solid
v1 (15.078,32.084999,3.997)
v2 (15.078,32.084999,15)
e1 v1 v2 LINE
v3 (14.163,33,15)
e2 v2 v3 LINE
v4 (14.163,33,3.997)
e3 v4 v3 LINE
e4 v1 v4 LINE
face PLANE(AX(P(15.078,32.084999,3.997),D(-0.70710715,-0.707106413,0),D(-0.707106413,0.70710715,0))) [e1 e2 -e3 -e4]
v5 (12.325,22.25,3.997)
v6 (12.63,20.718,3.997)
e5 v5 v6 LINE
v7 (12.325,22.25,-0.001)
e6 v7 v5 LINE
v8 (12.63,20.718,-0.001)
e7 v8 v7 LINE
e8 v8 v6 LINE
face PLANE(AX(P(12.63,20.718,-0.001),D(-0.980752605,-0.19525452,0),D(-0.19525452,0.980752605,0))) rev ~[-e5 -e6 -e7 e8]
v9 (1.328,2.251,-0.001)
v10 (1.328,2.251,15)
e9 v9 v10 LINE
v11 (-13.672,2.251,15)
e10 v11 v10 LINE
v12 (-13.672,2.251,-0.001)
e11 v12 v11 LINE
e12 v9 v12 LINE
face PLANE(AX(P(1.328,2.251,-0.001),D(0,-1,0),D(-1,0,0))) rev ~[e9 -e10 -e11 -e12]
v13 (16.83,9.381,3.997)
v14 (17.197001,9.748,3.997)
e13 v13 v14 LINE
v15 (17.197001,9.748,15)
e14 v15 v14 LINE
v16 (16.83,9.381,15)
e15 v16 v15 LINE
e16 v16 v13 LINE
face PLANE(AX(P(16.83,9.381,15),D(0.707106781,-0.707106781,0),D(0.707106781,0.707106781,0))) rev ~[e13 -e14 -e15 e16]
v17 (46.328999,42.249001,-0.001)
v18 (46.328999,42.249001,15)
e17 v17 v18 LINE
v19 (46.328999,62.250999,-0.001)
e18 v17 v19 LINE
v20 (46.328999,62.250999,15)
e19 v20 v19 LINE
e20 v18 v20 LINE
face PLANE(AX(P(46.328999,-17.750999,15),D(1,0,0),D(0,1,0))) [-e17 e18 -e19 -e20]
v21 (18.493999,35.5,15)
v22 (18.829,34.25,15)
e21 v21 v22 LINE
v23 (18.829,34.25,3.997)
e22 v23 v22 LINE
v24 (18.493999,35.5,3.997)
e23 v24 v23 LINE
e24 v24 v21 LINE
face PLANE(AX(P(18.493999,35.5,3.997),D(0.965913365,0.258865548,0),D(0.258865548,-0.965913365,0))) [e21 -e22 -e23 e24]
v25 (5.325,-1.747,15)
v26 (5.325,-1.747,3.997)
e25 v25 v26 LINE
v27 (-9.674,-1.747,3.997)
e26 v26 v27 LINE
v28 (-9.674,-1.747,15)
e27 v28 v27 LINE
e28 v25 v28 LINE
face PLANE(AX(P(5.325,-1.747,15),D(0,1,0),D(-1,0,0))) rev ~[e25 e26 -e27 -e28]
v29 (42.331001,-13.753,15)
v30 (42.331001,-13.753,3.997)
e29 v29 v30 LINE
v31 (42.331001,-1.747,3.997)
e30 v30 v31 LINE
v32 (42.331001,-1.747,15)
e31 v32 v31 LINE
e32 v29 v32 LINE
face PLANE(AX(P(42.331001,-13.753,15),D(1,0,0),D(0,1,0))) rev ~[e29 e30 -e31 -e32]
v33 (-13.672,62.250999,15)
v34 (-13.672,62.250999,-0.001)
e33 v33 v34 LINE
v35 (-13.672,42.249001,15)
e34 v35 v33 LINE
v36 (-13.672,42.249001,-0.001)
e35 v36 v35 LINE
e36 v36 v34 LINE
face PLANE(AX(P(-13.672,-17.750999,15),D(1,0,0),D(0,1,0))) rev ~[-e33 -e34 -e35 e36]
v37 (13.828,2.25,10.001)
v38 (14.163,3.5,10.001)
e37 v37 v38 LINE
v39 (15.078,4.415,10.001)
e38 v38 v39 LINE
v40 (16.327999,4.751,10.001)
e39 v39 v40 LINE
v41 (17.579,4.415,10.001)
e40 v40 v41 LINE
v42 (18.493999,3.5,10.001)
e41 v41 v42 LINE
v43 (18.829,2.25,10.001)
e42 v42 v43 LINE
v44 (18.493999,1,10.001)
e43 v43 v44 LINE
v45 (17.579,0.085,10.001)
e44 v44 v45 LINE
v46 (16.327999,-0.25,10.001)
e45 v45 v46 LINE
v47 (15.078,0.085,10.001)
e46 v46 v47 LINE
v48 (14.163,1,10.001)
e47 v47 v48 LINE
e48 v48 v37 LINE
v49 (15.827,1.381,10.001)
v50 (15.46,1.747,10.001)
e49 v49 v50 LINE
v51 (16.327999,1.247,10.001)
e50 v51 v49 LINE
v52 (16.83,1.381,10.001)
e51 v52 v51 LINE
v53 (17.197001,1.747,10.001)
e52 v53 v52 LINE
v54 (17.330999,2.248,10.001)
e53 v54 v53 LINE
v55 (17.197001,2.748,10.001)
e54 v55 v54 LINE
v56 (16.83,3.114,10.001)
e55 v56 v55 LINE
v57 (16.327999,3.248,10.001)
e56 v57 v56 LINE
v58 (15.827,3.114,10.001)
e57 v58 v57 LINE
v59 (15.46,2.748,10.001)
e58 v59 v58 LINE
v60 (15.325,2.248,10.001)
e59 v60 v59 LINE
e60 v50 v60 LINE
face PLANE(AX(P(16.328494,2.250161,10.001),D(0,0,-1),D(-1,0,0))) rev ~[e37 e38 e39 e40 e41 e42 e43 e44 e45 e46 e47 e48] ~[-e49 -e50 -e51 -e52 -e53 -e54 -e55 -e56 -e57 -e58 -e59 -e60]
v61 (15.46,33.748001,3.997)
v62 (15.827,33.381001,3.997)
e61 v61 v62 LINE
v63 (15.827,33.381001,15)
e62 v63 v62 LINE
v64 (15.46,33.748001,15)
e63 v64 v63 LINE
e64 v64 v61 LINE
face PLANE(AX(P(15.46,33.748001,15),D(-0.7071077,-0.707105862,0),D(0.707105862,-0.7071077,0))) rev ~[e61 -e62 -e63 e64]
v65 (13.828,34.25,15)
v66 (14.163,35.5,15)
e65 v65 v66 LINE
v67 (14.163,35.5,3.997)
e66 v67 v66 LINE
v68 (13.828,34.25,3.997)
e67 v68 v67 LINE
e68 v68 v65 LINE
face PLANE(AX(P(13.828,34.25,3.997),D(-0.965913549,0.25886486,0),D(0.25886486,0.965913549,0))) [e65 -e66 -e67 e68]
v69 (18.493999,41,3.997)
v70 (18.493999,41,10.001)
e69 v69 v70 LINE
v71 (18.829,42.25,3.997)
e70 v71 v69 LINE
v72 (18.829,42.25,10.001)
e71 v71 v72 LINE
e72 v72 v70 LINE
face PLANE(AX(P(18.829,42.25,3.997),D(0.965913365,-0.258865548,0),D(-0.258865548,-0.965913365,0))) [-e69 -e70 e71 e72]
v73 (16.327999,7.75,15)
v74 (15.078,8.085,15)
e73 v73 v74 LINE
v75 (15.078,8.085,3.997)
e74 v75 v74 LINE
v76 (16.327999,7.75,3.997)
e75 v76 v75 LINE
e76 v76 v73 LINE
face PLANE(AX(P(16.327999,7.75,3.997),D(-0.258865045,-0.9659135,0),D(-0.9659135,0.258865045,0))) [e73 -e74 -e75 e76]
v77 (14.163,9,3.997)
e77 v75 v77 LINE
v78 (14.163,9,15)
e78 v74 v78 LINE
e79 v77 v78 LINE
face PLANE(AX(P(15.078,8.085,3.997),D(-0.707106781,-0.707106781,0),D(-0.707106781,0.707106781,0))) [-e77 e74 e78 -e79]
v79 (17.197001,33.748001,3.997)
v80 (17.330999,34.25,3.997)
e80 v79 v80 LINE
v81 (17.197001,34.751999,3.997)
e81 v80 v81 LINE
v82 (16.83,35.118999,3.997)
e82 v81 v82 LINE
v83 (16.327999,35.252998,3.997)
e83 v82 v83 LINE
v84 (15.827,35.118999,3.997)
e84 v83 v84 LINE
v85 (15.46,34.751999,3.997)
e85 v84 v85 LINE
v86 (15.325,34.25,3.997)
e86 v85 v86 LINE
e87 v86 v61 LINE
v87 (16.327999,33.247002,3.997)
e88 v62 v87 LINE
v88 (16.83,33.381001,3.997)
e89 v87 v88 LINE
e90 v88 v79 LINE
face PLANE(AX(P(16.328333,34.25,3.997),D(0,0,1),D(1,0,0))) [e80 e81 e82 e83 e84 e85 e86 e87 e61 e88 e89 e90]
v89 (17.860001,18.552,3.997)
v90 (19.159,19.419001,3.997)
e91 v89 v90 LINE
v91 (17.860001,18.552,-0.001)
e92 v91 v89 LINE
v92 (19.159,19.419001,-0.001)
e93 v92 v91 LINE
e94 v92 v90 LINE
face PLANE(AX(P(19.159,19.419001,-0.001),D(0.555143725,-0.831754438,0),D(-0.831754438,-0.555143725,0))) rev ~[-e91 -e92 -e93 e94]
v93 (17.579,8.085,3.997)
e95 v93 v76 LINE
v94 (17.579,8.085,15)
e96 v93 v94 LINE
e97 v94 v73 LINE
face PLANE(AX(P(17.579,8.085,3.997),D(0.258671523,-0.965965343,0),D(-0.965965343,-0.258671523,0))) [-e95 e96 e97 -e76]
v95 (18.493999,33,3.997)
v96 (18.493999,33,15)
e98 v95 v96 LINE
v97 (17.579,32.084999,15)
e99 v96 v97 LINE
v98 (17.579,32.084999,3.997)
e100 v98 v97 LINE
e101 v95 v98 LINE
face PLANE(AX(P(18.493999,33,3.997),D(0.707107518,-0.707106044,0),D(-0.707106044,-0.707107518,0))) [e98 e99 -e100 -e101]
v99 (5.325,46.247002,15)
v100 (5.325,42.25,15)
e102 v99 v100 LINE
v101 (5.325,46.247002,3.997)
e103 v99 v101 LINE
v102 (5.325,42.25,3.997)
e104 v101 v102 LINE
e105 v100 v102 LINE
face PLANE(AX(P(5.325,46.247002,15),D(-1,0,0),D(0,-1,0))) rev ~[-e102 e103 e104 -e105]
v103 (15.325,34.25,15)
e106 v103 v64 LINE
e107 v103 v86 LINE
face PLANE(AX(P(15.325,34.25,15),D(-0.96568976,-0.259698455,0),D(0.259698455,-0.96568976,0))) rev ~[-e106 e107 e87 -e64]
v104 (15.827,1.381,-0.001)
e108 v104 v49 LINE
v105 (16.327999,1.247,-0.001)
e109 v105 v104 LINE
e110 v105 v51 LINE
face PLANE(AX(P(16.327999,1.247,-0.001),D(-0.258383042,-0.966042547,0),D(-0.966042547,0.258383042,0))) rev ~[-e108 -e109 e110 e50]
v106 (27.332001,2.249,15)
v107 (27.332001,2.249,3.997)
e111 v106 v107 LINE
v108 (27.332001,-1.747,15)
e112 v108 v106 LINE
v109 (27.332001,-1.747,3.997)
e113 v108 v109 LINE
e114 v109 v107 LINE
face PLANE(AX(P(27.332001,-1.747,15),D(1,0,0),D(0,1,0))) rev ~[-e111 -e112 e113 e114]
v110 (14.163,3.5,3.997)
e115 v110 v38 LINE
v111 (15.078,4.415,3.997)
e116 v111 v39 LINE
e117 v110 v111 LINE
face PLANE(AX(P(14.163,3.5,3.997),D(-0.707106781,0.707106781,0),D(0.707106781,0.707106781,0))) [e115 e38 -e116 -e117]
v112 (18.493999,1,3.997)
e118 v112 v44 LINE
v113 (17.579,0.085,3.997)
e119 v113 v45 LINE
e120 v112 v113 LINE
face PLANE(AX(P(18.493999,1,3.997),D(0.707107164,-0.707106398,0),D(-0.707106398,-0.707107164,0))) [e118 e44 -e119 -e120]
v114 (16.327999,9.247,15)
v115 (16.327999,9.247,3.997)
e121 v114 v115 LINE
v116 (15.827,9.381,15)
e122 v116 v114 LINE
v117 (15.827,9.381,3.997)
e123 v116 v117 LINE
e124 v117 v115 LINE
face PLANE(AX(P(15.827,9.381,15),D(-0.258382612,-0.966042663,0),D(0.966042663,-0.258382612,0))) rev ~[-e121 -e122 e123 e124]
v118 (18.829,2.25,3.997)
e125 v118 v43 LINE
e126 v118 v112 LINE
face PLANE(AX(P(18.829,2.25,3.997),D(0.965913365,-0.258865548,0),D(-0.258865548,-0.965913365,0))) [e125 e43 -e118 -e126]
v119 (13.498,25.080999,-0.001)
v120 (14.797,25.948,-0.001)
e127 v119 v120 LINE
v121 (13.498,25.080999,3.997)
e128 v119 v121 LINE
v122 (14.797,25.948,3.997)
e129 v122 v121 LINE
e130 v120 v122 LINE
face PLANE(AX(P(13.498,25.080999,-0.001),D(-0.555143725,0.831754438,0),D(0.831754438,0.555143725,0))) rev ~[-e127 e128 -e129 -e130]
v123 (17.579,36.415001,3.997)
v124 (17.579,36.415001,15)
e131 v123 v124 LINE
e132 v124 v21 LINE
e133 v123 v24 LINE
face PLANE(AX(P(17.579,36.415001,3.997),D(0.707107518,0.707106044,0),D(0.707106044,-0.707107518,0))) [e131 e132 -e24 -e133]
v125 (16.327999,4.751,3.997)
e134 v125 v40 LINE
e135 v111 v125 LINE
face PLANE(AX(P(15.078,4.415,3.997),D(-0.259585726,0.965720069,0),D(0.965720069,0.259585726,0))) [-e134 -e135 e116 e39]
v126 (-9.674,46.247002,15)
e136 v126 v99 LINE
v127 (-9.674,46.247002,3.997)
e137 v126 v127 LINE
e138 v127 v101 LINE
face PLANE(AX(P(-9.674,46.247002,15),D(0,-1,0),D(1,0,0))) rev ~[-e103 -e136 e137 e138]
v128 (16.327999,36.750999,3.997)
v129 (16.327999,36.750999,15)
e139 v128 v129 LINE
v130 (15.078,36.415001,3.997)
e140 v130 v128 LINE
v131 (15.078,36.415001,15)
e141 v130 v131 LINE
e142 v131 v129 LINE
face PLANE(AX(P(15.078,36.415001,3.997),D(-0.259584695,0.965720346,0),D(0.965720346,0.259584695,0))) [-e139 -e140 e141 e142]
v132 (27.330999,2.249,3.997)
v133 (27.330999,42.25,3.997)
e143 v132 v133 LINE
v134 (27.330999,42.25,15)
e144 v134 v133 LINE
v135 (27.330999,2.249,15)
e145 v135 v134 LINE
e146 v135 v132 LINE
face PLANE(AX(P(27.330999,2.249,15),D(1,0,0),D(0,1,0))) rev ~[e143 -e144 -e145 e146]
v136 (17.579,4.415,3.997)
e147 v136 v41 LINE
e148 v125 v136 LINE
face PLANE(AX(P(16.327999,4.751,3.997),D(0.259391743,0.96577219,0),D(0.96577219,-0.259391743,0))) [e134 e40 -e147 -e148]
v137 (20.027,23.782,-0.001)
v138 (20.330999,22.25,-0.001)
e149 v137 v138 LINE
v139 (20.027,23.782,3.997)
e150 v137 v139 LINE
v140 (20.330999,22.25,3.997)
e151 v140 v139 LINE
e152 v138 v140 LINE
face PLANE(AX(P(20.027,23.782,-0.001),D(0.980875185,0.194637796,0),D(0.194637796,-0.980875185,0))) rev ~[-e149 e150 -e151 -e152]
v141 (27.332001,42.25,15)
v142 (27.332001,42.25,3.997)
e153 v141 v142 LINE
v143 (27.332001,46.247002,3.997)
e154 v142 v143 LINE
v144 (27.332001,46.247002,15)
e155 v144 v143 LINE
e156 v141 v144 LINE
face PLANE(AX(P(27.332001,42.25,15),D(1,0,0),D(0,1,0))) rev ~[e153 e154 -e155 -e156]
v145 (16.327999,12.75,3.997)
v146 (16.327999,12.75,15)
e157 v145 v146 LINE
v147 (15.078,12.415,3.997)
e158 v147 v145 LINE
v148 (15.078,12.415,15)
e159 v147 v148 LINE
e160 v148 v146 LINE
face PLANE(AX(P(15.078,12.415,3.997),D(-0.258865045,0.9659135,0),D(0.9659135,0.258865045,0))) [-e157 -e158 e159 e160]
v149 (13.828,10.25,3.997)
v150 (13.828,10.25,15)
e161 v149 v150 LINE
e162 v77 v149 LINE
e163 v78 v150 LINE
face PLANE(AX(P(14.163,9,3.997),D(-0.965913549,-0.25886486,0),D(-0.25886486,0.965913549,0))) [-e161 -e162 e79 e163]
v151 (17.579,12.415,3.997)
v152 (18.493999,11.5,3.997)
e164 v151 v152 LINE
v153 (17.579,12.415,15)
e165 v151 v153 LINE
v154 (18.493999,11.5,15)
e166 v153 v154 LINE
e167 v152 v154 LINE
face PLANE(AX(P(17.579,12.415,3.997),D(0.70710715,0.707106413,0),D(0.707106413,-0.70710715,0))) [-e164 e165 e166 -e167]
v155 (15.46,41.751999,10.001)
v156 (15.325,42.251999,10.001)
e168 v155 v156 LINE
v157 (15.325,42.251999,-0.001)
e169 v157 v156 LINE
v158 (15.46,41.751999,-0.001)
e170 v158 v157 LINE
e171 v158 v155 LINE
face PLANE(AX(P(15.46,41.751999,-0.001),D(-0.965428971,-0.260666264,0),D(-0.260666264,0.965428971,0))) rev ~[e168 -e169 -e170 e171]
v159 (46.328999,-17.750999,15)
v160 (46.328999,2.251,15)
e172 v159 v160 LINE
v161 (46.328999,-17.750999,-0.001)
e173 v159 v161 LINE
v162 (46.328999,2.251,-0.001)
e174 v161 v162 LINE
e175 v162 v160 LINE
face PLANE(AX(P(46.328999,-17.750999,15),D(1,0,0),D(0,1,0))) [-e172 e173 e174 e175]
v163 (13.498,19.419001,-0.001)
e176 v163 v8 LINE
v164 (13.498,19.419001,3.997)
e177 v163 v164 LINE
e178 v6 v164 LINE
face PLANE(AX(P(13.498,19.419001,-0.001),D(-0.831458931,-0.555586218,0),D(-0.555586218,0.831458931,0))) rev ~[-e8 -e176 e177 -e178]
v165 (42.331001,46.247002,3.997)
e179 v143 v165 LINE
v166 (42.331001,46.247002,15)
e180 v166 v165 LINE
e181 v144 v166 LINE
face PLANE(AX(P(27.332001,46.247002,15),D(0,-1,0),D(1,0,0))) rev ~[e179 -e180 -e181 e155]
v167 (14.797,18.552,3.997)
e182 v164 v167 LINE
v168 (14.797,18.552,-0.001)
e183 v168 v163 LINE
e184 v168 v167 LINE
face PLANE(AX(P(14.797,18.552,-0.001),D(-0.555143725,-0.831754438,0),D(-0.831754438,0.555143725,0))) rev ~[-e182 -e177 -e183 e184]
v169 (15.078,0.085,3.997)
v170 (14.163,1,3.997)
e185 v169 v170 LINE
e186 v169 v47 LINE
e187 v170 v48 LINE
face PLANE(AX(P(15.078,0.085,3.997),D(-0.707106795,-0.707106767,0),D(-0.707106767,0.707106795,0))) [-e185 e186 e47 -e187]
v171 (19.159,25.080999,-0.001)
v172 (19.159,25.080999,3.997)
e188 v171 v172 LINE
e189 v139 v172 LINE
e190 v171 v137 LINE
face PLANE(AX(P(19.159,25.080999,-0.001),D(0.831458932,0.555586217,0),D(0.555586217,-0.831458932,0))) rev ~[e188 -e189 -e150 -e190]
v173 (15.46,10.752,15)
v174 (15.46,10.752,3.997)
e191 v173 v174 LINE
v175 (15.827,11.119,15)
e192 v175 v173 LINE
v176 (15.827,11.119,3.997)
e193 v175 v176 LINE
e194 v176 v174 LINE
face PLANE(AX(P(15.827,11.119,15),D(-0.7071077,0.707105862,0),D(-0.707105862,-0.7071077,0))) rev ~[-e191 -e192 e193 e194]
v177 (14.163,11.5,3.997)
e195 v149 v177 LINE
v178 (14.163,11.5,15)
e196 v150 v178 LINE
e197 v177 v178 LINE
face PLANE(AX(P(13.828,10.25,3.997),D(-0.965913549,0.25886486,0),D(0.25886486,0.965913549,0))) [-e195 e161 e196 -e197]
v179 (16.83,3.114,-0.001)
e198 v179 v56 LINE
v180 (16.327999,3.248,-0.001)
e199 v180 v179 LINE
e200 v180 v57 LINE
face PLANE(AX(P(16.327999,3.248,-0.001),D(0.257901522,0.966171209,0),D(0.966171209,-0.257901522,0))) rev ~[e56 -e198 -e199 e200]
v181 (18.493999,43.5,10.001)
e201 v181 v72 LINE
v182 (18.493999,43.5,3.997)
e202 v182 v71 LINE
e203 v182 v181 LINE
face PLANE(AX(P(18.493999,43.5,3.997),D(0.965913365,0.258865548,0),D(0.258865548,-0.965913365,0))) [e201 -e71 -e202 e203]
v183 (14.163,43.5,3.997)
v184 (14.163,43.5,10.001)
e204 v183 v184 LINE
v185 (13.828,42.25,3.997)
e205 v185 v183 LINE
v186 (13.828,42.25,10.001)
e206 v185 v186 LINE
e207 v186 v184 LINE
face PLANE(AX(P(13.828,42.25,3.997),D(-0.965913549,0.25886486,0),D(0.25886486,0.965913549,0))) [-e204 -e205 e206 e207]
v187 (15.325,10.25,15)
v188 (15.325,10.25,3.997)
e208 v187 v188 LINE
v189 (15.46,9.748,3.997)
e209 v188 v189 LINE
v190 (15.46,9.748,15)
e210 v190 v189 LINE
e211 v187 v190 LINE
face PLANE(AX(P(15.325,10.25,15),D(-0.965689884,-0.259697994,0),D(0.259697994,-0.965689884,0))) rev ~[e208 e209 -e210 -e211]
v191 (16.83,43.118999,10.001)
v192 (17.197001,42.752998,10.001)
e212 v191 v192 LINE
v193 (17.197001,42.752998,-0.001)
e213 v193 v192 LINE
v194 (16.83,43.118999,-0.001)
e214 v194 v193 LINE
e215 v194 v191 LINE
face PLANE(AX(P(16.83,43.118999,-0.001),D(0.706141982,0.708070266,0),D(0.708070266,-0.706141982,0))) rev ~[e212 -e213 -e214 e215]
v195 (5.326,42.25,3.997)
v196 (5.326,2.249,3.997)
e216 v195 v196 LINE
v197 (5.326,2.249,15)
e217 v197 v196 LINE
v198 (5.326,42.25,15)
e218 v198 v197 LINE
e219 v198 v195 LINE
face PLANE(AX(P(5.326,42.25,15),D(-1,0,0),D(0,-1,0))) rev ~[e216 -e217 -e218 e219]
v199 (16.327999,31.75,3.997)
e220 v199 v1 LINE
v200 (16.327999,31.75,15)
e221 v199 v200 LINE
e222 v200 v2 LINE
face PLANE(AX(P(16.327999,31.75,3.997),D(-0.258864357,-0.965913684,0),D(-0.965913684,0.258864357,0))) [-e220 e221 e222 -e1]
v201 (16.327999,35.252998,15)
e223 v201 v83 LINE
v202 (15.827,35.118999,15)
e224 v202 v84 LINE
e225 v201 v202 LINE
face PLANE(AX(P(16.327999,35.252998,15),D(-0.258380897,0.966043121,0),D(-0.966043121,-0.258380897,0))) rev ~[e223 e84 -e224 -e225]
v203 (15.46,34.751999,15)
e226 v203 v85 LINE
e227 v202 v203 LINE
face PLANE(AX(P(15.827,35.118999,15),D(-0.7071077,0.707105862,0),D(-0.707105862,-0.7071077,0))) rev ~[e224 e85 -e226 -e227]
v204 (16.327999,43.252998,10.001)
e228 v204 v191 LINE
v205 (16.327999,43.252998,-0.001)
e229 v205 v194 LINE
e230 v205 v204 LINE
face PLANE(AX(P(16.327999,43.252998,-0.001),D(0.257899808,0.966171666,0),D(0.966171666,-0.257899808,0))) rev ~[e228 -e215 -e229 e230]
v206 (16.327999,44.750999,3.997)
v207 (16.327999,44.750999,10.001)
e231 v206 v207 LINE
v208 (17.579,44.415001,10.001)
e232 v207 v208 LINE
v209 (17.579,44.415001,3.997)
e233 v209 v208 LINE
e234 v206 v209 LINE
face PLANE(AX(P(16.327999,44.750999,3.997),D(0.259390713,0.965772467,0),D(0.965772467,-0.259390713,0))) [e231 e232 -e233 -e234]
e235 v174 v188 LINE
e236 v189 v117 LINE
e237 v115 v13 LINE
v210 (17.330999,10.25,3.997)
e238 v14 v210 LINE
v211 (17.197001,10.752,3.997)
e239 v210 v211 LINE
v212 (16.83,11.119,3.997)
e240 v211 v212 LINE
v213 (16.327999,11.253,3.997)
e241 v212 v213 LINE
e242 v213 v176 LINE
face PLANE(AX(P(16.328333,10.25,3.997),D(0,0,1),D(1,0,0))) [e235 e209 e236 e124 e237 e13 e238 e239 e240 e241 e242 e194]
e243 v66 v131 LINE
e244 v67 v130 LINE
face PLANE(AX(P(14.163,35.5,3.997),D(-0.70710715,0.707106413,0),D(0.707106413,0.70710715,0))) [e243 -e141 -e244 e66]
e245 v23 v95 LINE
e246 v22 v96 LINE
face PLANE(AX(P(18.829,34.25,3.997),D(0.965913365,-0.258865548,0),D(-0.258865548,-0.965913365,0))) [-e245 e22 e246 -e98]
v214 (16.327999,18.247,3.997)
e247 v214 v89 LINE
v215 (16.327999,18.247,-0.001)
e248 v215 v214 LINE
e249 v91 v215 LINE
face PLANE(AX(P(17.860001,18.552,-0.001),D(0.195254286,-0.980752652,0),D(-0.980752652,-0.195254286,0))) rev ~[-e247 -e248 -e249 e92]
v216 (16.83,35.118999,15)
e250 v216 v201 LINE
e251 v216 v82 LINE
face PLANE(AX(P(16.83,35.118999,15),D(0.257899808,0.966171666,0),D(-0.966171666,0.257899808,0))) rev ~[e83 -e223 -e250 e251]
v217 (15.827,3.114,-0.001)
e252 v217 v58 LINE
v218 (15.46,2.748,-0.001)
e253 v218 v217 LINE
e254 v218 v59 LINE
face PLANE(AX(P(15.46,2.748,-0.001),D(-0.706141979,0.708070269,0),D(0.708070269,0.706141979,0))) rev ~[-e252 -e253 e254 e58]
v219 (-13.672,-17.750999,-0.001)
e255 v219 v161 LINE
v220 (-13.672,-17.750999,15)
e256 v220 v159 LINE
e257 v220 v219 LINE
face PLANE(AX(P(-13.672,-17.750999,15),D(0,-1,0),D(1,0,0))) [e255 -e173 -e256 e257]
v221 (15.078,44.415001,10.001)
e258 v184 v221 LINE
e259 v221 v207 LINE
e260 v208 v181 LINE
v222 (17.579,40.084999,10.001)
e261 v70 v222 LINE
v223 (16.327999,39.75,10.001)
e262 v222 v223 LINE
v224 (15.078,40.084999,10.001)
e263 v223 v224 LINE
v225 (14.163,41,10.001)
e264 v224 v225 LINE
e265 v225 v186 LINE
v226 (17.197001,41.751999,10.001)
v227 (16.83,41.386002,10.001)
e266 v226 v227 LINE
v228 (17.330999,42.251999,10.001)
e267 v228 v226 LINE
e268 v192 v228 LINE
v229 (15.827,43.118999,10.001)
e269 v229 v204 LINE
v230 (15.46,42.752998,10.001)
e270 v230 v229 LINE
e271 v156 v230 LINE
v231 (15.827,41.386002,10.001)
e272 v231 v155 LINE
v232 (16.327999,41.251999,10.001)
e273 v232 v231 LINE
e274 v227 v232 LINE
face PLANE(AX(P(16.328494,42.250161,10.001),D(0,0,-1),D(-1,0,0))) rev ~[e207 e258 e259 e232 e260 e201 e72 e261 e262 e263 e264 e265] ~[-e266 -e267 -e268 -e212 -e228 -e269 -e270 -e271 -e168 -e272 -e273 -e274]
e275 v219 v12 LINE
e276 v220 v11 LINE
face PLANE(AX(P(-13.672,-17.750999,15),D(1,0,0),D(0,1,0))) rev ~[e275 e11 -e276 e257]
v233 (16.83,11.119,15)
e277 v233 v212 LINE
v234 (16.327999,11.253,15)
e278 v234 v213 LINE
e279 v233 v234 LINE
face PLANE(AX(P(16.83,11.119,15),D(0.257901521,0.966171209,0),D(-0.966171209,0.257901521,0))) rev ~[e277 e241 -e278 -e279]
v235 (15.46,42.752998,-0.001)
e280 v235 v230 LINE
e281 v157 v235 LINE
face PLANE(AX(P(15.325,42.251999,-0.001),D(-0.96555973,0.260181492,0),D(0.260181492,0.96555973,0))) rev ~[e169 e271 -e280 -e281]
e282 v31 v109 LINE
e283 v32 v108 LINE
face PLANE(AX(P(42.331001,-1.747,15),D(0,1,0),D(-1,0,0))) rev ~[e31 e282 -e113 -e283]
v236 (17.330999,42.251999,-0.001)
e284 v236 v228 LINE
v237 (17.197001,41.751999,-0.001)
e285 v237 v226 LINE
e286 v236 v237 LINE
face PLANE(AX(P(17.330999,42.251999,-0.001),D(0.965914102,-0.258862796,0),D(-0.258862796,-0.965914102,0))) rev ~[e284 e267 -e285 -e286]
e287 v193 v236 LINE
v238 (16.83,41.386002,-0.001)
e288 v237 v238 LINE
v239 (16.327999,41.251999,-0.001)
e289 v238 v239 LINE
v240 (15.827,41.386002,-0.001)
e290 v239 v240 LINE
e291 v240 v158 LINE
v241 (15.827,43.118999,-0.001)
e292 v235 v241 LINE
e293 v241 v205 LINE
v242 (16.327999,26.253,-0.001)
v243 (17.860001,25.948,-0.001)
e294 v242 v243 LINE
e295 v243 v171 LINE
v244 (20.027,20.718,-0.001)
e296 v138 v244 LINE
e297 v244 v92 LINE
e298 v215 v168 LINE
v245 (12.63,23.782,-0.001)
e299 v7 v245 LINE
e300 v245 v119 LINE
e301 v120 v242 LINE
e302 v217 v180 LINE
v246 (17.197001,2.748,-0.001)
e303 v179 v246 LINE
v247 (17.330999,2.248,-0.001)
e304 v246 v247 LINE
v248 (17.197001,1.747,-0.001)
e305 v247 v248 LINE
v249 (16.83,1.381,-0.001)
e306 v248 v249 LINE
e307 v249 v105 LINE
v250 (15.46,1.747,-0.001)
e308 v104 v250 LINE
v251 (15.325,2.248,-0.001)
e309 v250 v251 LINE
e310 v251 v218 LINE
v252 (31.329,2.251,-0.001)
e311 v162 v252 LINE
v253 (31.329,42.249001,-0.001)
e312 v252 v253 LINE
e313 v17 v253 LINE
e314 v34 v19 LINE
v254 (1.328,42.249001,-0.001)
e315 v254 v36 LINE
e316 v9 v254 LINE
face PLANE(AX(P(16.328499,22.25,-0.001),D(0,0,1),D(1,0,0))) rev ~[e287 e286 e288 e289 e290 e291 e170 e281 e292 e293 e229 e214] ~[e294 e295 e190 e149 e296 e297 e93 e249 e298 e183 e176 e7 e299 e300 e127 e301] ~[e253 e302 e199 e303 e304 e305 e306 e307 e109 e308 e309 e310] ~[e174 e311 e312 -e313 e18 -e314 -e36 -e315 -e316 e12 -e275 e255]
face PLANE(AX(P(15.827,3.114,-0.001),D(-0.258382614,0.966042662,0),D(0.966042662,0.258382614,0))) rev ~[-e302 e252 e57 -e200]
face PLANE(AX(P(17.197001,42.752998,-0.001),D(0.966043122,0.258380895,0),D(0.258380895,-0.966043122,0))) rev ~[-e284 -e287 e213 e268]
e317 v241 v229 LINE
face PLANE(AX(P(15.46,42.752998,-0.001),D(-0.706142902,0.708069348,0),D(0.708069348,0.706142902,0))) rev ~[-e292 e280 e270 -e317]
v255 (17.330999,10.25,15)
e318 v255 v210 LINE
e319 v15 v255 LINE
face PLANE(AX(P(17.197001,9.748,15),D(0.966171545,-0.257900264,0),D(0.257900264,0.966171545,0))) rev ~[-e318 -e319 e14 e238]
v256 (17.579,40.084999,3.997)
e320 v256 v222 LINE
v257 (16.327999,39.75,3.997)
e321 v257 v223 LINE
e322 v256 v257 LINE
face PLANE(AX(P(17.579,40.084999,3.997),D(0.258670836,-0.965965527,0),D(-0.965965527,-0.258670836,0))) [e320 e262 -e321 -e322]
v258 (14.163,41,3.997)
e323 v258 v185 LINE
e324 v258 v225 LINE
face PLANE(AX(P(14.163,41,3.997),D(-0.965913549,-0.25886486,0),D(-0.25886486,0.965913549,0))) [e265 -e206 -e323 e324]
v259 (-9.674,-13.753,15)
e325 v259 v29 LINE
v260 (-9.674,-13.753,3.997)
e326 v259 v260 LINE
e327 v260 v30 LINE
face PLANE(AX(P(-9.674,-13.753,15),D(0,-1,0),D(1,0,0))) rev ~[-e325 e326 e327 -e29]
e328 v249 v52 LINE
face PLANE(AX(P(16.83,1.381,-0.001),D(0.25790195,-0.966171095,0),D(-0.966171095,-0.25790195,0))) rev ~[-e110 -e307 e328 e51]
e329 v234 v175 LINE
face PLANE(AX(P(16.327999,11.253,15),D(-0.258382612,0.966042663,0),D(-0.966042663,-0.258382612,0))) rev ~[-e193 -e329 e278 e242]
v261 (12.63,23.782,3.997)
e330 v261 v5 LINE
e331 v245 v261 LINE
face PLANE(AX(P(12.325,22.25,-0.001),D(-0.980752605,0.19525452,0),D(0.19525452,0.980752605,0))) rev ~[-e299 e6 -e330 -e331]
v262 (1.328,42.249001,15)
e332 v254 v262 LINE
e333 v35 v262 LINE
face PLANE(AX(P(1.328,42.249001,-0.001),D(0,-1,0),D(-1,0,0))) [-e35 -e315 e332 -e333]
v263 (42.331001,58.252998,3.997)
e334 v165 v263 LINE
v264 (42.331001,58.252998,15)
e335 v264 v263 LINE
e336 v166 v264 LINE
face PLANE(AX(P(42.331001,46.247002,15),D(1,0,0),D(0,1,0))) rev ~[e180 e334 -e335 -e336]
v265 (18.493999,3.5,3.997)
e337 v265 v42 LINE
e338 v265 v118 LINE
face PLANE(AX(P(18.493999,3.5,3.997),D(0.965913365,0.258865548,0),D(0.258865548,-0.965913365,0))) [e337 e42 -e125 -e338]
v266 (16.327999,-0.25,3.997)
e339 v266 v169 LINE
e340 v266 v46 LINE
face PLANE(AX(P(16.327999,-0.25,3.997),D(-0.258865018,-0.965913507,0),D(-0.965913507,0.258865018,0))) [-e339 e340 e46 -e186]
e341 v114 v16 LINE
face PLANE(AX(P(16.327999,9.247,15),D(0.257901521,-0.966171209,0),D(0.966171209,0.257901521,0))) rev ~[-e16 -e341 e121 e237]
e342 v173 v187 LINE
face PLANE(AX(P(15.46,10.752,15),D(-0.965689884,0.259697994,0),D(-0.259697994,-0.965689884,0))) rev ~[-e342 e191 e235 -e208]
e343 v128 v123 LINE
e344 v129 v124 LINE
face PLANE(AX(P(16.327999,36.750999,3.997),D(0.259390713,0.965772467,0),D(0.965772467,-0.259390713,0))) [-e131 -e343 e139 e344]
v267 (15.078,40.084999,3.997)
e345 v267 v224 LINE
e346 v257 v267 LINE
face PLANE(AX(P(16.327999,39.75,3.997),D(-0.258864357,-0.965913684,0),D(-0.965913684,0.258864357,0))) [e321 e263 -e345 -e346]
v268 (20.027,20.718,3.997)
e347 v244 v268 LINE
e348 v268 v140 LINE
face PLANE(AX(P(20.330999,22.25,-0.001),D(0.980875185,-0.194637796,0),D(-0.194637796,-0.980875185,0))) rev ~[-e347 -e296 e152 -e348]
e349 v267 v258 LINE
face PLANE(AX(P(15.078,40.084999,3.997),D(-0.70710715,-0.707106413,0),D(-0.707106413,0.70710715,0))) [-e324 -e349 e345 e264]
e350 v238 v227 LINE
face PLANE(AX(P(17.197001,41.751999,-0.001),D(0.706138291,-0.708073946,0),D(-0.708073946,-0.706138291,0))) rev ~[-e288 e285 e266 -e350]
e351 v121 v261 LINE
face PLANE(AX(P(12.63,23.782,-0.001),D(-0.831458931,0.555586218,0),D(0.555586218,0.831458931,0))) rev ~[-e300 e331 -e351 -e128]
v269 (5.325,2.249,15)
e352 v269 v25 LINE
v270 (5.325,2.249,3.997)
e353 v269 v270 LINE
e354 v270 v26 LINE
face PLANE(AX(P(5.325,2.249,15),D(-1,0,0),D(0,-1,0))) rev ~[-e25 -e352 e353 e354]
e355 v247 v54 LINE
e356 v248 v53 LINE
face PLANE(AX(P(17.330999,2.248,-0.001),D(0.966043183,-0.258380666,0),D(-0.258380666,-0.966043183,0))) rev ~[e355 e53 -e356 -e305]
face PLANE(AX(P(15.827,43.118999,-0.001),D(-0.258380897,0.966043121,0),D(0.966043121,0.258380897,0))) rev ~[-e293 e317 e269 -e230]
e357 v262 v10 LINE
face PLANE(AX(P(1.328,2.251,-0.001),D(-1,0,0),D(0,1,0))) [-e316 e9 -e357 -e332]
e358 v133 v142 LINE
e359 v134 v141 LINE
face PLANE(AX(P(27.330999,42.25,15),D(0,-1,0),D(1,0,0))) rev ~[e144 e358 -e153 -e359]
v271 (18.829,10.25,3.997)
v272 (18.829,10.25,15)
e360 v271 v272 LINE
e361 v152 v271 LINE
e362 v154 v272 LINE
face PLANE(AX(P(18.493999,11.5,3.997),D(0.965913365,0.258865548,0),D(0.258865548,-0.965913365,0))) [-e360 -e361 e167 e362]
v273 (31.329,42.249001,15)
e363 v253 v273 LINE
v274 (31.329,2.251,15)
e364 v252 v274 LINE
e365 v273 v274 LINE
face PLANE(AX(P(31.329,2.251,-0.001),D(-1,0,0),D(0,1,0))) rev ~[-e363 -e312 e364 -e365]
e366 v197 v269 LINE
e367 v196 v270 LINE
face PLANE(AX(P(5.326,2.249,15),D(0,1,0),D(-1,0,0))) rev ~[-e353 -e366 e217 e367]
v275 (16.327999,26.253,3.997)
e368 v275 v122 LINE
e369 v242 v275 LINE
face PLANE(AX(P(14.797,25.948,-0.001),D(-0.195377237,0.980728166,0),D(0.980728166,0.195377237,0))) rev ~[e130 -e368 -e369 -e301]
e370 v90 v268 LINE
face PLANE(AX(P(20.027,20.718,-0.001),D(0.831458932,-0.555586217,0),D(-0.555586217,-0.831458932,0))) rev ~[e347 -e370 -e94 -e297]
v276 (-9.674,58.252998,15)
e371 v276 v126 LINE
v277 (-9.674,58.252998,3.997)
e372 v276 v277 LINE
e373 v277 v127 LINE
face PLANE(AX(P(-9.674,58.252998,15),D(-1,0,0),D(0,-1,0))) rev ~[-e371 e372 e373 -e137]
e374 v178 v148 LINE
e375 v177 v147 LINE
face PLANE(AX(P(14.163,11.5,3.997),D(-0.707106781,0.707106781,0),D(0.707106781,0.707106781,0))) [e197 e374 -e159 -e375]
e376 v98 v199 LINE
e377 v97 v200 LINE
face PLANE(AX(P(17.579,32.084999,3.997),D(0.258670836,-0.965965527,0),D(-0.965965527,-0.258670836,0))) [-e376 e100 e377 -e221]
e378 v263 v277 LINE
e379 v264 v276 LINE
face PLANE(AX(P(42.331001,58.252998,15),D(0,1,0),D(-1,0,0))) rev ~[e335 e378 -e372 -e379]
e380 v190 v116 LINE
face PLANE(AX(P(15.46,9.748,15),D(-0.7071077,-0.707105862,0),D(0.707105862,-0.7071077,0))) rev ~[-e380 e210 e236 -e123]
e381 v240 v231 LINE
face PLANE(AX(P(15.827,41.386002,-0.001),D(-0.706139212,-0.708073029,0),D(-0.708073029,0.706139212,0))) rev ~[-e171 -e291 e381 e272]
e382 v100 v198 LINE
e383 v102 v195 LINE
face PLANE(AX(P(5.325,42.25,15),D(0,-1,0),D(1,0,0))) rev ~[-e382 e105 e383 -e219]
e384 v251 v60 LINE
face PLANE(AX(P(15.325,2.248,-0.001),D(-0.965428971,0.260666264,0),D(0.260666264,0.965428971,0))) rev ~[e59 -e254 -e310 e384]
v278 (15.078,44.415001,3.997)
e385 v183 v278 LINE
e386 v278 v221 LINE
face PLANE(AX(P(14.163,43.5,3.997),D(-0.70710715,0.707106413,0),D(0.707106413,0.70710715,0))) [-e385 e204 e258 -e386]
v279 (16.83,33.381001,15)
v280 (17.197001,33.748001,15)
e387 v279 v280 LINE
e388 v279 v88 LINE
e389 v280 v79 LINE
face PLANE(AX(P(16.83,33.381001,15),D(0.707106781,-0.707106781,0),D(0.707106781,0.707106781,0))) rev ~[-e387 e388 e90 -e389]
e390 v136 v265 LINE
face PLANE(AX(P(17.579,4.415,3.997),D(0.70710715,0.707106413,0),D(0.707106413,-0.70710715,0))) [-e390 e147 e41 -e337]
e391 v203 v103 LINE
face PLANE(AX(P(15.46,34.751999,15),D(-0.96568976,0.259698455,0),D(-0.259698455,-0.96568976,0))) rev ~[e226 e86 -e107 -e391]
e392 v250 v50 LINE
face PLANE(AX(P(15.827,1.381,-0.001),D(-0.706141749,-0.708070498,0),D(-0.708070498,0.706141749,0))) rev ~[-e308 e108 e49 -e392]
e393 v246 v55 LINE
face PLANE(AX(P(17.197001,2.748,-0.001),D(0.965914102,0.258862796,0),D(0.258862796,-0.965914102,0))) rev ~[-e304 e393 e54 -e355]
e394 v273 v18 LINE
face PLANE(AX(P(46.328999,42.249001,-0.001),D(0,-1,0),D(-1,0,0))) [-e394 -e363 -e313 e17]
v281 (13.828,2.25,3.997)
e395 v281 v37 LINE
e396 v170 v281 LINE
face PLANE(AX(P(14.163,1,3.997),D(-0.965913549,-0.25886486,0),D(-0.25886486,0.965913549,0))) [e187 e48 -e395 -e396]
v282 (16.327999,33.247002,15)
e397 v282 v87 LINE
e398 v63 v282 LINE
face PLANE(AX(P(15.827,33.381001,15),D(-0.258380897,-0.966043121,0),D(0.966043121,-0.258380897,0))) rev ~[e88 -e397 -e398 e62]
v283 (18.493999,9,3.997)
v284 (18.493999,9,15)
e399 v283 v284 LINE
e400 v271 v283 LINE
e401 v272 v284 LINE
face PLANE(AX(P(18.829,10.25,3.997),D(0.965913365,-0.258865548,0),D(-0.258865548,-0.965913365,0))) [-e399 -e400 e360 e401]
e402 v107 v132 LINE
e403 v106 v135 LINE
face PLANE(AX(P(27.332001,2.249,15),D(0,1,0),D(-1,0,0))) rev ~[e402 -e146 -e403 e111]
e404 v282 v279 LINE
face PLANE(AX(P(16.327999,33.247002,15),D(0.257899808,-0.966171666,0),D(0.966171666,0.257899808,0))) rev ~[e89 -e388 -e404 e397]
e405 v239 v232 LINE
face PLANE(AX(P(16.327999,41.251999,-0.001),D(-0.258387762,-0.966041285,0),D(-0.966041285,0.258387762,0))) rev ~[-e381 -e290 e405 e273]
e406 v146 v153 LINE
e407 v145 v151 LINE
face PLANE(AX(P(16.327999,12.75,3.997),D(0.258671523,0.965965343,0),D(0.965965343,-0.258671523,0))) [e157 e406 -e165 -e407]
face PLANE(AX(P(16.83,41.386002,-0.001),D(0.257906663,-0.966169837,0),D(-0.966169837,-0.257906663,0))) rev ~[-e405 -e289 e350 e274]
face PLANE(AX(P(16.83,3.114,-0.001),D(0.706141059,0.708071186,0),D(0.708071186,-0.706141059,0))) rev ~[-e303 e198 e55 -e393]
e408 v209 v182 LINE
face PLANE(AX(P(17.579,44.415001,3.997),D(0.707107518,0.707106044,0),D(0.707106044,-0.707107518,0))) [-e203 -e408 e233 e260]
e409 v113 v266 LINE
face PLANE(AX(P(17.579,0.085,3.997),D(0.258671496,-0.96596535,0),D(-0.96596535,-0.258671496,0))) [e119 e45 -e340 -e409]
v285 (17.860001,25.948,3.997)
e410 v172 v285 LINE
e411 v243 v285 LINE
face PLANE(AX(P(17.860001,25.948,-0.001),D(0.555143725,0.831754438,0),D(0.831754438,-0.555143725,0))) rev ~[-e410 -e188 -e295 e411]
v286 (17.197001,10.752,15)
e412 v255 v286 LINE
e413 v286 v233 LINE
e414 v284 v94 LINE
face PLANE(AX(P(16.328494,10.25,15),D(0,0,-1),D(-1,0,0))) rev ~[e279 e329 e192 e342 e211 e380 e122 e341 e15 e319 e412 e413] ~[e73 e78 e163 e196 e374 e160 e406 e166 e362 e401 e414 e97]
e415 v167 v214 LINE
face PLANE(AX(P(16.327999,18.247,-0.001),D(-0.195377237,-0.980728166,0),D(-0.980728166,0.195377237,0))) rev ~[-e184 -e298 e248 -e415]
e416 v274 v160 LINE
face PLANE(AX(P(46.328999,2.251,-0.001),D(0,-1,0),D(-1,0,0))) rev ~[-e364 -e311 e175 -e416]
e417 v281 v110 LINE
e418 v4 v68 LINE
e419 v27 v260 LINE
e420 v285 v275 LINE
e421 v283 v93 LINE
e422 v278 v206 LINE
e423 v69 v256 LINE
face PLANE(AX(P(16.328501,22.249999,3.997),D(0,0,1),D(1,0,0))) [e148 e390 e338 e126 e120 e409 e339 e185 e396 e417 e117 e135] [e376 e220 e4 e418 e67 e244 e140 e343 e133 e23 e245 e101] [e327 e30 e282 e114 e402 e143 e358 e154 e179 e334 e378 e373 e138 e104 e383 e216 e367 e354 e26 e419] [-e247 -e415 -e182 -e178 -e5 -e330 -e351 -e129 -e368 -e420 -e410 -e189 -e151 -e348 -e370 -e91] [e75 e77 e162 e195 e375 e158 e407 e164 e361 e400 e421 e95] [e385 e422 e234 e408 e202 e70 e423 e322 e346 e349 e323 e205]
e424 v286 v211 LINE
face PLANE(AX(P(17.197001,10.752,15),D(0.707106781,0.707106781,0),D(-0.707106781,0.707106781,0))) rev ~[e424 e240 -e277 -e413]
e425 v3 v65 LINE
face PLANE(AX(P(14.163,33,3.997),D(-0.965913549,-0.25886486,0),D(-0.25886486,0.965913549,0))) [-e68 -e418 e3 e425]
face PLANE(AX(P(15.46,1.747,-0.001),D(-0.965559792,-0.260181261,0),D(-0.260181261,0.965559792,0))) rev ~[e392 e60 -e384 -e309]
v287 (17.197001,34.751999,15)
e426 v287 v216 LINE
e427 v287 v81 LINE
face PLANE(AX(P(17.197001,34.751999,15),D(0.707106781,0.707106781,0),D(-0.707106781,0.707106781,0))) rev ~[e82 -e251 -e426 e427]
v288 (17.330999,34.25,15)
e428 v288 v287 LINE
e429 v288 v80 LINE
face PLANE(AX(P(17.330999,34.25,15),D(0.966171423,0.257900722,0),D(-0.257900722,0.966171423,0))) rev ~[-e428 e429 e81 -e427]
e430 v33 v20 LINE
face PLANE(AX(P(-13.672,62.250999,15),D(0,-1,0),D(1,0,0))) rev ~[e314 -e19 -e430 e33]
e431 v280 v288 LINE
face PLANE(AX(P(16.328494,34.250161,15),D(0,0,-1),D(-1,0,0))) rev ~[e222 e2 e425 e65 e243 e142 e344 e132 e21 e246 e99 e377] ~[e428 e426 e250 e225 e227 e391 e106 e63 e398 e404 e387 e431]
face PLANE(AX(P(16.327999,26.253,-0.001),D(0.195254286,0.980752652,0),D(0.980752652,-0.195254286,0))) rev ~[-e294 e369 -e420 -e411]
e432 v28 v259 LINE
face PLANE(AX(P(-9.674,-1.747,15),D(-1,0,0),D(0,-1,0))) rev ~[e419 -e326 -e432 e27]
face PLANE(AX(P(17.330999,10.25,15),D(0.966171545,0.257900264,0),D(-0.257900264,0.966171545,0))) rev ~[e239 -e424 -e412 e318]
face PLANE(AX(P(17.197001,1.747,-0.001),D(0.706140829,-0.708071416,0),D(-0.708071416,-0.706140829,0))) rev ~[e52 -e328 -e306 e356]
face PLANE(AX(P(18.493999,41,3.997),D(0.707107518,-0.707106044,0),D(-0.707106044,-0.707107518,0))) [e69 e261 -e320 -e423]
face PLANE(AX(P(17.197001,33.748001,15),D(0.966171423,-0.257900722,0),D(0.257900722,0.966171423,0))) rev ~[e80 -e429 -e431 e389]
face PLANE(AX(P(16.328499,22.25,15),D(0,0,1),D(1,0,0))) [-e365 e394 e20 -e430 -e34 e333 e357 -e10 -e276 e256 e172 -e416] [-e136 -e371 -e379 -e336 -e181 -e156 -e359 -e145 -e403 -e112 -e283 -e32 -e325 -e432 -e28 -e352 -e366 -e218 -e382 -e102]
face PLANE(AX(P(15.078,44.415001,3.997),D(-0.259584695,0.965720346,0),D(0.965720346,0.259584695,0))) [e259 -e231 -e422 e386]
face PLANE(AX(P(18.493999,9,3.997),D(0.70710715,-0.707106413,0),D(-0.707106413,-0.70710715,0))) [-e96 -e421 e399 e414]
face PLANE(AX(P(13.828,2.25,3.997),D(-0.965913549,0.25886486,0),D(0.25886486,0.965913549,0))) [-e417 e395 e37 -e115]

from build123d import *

# Parameters (mm, degrees)
SKETCH1_W           = 60.000998497
SKETCH1_H           = 80.001998902
BOSS_EXTRUDE1_DEPTH = 15.001
SKETCH2_W           = 14.999998093
SKETCH2_H           = 39.998000621
CUT_EXTRUDE1_DEPTH  = 80.035391071
SKETCH3_W           = 14.99999988
SKETCH3_H           = 39.998000621
CUT_EXTRUDE2_DEPTH  = 80.035391071
CUT_EXTRUDE3_DEPTH  = 11.003000021
BOSS_EXTRUDE2_DEPTH = 6.004000425
CUT_EXTRUDE4_DEPTH  = 80.035391071
CUT_EXTRUDE5_DEPTH  = 80.035391071
BOSS_EXTRUDE3_DEPTH = 6.004000425
CUT_EXTRUDE6_DEPTH  = 80.035391071
BOSS_EXTRUDE4_DEPTH = 11.003000021
CUT_EXTRUDE7_DEPTH  = 11.003000021
BOSS_EXTRUDE5_DEPTH = 11.003000021
CUT_EXTRUDE8_DEPTH  = 11.003000021


with BuildPart() as part:
    # Sketch1 → Boss-Extrude1 (new body)
    with BuildSketch(Plane.XY.offset(15)):
        with Locations((16.328499318, 22.25)):
            Rectangle(SKETCH1_W, SKETCH1_H)
    extrude(amount=-BOSS_EXTRUDE1_DEPTH)

    # Sketch2 → Cut-Extrude1 (cut, through all)
    with BuildSketch(Plane(origin=(0, 0, -0.001), x_dir=(-1, 0, 0), z_dir=(0, 0, -1))):
        with Locations((-38.82899952, 22.250000239)):
            Rectangle(SKETCH2_W, SKETCH2_H)
    extrude(amount=-CUT_EXTRUDE1_DEPTH, mode=Mode.SUBTRACT)

    # Sketch3 → Cut-Extrude2 (cut, through all)
    with BuildSketch(Plane(origin=(0, 0, -0.001), x_dir=(-1, 0, 0), z_dir=(0, 0, -1))):
        with Locations((6.171999991, 22.250000239)):
            Rectangle(SKETCH3_W, SKETCH3_H)
    extrude(amount=-CUT_EXTRUDE2_DEPTH, mode=Mode.SUBTRACT)

    # Sketch4 → Cut-Extrude3 (cut)
    with BuildSketch(Plane.XY.offset(15)):
        Polygon((27.332000732, 42.25), (27.332000732, 46.247001648), (42.331001282, 46.247001648), (42.331001282, 58.252998352), (-9.673999786, 58.252998352), (-9.673999786, 46.247001648), (5.324999809, 46.247001648), (5.324999809, 42.25), (5.326000214, 42.25), (5.326000214, 2.249000072), (5.324999809, 2.249000072), (5.324999809, -1.746999979), (-9.673999786, -1.746999979), (-9.673999786, -13.753000259), (42.331001282, -13.753000259), (42.331001282, -1.746999979), (27.332000732, -1.746999979), (27.332000732, 2.249000072), (27.330999374, 2.249000072), (27.330999374, 42.25), align=None)
    extrude(amount=-CUT_EXTRUDE3_DEPTH, mode=Mode.SUBTRACT)

    # Sketch5 → Boss-Extrude2 (add)
    with BuildSketch(Plane.XY.offset(3.996999979)):
        Polygon((16.327999115, 4.750999928), (17.579000473, 4.414999962), (18.493999481, 3.5), (18.829000473, 2.25), (18.493999481, 1), (17.579000473, 0.085000001), (16.327999115, -0.25), (15.078000069, 0.085000001), (14.163000107, 1), (13.828000069, 2.25), (14.163000107, 3.5), (15.078000069, 4.414999962), align=None)
    extrude(amount=BOSS_EXTRUDE2_DEPTH)

    # Sketch6 → Cut-Extrude4 (cut, through all)
    with BuildSketch(Plane(origin=(0, 0, -0.001), x_dir=(-1, 0, 0), z_dir=(0, 0, -1))):
        Polygon((-16.829999924, 3.114000082), (-17.197000504, 2.747999907), (-17.330999374, 2.247999907), (-17.197000504, 1.746999979), (-16.829999924, 1.381000042), (-16.327999115, 1.246999979), (-15.826999664, 1.381000042), (-15.460000038, 1.746999979), (-15.324999809, 2.247999907), (-15.460000038, 2.747999907), (-15.826999664, 3.114000082), (-16.327999115, 3.247999907), align=None)
    extrude(amount=-CUT_EXTRUDE4_DEPTH, mode=Mode.SUBTRACT)

    # Sketch7 → Cut-Extrude5 (cut, through all)
    with BuildSketch(Plane(origin=(0, 0, -0.001), x_dir=(-1, 0, 0), z_dir=(0, 0, -1))):
        Polygon((-13.498000145, 19.419000626), (-12.630000114, 20.718000412), (-12.324999809, 22.25), (-12.630000114, 23.781999588), (-13.498000145, 25.080999374), (-14.796999931, 25.947999954), (-16.327999115, 26.253000259), (-17.86000061, 25.947999954), (-19.159000397, 25.080999374), (-20.027000427, 23.781999588), (-20.330999374, 22.25), (-20.027000427, 20.718000412), (-19.159000397, 19.419000626), (-17.86000061, 18.552000046), (-16.327999115, 18.246999741), (-14.796999931, 18.552000046), align=None)
    extrude(amount=-CUT_EXTRUDE5_DEPTH, mode=Mode.SUBTRACT)

    # Sketch8 → Boss-Extrude3 (add)
    with BuildSketch(Plane.XY.offset(3.996999979)):
        Polygon((15.078000069, 40.084999084), (14.163000107, 41), (13.828000069, 42.25), (14.163000107, 43.5), (15.078000069, 44.415000916), (16.327999115, 44.750999451), (17.579000473, 44.415000916), (18.493999481, 43.5), (18.829000473, 42.25), (18.493999481, 41), (17.579000473, 40.084999084), (16.327999115, 39.75), align=None)
    extrude(amount=BOSS_EXTRUDE3_DEPTH)

    # Sketch9 → Cut-Extrude6 (cut, through all)
    with BuildSketch(Plane(origin=(0, 0, -0.001), x_dir=(-1, 0, 0), z_dir=(0, 0, -1))):
        Polygon((-15.826999664, 41.386001587), (-15.460000038, 41.751998901), (-15.324999809, 42.251998901), (-15.460000038, 42.752998352), (-15.826999664, 43.118999481), (-16.327999115, 43.252998352), (-16.829999924, 43.118999481), (-17.197000504, 42.752998352), (-17.330999374, 42.251998901), (-17.197000504, 41.751998901), (-16.829999924, 41.386001587), (-16.327999115, 41.251998901), align=None)
    extrude(amount=-CUT_EXTRUDE6_DEPTH, mode=Mode.SUBTRACT)

    # Sketch10 → Boss-Extrude4 (add)
    with BuildSketch(Plane.XY.offset(3.996999979)):
        Polygon((14.163000107, 9), (13.828000069, 10.25), (14.163000107, 11.5), (15.078000069, 12.414999962), (16.327999115, 12.75), (17.579000473, 12.414999962), (18.493999481, 11.5), (18.829000473, 10.25), (18.493999481, 9), (17.579000473, 8.085000038), (16.327999115, 7.75), (15.078000069, 8.085000038), align=None)
    extrude(amount=BOSS_EXTRUDE4_DEPTH)

    # Sketch11 → Cut-Extrude7 (cut)
    with BuildSketch(Plane.XY.offset(15)):
        Polygon((16.829999924, 9.380999565), (17.197000504, 9.748000145), (17.330999374, 10.25), (17.197000504, 10.751999855), (16.829999924, 11.119000435), (16.327999115, 11.253000259), (15.826999664, 11.119000435), (15.460000038, 10.751999855), (15.324999809, 10.25), (15.460000038, 9.748000145), (15.826999664, 9.380999565), (16.327999115, 9.246999741), align=None)
    extrude(amount=-CUT_EXTRUDE7_DEPTH, mode=Mode.SUBTRACT)

    # Sketch12 → Boss-Extrude5 (add)
    with BuildSketch(Plane.XY.offset(3.996999979)):
        Polygon((17.579000473, 36.415000916), (18.493999481, 35.5), (18.829000473, 34.25), (18.493999481, 33), (17.579000473, 32.084999084), (16.327999115, 31.75), (15.078000069, 32.084999084), (14.163000107, 33), (13.828000069, 34.25), (14.163000107, 35.5), (15.078000069, 36.415000916), (16.327999115, 36.750999451), align=None)
    extrude(amount=BOSS_EXTRUDE5_DEPTH)

    # Sketch13 → Cut-Extrude8 (cut)
    with BuildSketch(Plane.XY.offset(15)):
        Polygon((15.826999664, 35.118999481), (15.460000038, 34.751998901), (15.324999809, 34.25), (15.460000038, 33.748001099), (15.826999664, 33.381000519), (16.327999115, 33.247001648), (16.829999924, 33.381000519), (17.197000504, 33.748001099), (17.330999374, 34.25), (17.197000504, 34.751998901), (16.829999924, 35.118999481), (16.327999115, 35.252998352), align=None)
    extrude(amount=-CUT_EXTRUDE8_DEPTH, mode=Mode.SUBTRACT)


solid = part.part
